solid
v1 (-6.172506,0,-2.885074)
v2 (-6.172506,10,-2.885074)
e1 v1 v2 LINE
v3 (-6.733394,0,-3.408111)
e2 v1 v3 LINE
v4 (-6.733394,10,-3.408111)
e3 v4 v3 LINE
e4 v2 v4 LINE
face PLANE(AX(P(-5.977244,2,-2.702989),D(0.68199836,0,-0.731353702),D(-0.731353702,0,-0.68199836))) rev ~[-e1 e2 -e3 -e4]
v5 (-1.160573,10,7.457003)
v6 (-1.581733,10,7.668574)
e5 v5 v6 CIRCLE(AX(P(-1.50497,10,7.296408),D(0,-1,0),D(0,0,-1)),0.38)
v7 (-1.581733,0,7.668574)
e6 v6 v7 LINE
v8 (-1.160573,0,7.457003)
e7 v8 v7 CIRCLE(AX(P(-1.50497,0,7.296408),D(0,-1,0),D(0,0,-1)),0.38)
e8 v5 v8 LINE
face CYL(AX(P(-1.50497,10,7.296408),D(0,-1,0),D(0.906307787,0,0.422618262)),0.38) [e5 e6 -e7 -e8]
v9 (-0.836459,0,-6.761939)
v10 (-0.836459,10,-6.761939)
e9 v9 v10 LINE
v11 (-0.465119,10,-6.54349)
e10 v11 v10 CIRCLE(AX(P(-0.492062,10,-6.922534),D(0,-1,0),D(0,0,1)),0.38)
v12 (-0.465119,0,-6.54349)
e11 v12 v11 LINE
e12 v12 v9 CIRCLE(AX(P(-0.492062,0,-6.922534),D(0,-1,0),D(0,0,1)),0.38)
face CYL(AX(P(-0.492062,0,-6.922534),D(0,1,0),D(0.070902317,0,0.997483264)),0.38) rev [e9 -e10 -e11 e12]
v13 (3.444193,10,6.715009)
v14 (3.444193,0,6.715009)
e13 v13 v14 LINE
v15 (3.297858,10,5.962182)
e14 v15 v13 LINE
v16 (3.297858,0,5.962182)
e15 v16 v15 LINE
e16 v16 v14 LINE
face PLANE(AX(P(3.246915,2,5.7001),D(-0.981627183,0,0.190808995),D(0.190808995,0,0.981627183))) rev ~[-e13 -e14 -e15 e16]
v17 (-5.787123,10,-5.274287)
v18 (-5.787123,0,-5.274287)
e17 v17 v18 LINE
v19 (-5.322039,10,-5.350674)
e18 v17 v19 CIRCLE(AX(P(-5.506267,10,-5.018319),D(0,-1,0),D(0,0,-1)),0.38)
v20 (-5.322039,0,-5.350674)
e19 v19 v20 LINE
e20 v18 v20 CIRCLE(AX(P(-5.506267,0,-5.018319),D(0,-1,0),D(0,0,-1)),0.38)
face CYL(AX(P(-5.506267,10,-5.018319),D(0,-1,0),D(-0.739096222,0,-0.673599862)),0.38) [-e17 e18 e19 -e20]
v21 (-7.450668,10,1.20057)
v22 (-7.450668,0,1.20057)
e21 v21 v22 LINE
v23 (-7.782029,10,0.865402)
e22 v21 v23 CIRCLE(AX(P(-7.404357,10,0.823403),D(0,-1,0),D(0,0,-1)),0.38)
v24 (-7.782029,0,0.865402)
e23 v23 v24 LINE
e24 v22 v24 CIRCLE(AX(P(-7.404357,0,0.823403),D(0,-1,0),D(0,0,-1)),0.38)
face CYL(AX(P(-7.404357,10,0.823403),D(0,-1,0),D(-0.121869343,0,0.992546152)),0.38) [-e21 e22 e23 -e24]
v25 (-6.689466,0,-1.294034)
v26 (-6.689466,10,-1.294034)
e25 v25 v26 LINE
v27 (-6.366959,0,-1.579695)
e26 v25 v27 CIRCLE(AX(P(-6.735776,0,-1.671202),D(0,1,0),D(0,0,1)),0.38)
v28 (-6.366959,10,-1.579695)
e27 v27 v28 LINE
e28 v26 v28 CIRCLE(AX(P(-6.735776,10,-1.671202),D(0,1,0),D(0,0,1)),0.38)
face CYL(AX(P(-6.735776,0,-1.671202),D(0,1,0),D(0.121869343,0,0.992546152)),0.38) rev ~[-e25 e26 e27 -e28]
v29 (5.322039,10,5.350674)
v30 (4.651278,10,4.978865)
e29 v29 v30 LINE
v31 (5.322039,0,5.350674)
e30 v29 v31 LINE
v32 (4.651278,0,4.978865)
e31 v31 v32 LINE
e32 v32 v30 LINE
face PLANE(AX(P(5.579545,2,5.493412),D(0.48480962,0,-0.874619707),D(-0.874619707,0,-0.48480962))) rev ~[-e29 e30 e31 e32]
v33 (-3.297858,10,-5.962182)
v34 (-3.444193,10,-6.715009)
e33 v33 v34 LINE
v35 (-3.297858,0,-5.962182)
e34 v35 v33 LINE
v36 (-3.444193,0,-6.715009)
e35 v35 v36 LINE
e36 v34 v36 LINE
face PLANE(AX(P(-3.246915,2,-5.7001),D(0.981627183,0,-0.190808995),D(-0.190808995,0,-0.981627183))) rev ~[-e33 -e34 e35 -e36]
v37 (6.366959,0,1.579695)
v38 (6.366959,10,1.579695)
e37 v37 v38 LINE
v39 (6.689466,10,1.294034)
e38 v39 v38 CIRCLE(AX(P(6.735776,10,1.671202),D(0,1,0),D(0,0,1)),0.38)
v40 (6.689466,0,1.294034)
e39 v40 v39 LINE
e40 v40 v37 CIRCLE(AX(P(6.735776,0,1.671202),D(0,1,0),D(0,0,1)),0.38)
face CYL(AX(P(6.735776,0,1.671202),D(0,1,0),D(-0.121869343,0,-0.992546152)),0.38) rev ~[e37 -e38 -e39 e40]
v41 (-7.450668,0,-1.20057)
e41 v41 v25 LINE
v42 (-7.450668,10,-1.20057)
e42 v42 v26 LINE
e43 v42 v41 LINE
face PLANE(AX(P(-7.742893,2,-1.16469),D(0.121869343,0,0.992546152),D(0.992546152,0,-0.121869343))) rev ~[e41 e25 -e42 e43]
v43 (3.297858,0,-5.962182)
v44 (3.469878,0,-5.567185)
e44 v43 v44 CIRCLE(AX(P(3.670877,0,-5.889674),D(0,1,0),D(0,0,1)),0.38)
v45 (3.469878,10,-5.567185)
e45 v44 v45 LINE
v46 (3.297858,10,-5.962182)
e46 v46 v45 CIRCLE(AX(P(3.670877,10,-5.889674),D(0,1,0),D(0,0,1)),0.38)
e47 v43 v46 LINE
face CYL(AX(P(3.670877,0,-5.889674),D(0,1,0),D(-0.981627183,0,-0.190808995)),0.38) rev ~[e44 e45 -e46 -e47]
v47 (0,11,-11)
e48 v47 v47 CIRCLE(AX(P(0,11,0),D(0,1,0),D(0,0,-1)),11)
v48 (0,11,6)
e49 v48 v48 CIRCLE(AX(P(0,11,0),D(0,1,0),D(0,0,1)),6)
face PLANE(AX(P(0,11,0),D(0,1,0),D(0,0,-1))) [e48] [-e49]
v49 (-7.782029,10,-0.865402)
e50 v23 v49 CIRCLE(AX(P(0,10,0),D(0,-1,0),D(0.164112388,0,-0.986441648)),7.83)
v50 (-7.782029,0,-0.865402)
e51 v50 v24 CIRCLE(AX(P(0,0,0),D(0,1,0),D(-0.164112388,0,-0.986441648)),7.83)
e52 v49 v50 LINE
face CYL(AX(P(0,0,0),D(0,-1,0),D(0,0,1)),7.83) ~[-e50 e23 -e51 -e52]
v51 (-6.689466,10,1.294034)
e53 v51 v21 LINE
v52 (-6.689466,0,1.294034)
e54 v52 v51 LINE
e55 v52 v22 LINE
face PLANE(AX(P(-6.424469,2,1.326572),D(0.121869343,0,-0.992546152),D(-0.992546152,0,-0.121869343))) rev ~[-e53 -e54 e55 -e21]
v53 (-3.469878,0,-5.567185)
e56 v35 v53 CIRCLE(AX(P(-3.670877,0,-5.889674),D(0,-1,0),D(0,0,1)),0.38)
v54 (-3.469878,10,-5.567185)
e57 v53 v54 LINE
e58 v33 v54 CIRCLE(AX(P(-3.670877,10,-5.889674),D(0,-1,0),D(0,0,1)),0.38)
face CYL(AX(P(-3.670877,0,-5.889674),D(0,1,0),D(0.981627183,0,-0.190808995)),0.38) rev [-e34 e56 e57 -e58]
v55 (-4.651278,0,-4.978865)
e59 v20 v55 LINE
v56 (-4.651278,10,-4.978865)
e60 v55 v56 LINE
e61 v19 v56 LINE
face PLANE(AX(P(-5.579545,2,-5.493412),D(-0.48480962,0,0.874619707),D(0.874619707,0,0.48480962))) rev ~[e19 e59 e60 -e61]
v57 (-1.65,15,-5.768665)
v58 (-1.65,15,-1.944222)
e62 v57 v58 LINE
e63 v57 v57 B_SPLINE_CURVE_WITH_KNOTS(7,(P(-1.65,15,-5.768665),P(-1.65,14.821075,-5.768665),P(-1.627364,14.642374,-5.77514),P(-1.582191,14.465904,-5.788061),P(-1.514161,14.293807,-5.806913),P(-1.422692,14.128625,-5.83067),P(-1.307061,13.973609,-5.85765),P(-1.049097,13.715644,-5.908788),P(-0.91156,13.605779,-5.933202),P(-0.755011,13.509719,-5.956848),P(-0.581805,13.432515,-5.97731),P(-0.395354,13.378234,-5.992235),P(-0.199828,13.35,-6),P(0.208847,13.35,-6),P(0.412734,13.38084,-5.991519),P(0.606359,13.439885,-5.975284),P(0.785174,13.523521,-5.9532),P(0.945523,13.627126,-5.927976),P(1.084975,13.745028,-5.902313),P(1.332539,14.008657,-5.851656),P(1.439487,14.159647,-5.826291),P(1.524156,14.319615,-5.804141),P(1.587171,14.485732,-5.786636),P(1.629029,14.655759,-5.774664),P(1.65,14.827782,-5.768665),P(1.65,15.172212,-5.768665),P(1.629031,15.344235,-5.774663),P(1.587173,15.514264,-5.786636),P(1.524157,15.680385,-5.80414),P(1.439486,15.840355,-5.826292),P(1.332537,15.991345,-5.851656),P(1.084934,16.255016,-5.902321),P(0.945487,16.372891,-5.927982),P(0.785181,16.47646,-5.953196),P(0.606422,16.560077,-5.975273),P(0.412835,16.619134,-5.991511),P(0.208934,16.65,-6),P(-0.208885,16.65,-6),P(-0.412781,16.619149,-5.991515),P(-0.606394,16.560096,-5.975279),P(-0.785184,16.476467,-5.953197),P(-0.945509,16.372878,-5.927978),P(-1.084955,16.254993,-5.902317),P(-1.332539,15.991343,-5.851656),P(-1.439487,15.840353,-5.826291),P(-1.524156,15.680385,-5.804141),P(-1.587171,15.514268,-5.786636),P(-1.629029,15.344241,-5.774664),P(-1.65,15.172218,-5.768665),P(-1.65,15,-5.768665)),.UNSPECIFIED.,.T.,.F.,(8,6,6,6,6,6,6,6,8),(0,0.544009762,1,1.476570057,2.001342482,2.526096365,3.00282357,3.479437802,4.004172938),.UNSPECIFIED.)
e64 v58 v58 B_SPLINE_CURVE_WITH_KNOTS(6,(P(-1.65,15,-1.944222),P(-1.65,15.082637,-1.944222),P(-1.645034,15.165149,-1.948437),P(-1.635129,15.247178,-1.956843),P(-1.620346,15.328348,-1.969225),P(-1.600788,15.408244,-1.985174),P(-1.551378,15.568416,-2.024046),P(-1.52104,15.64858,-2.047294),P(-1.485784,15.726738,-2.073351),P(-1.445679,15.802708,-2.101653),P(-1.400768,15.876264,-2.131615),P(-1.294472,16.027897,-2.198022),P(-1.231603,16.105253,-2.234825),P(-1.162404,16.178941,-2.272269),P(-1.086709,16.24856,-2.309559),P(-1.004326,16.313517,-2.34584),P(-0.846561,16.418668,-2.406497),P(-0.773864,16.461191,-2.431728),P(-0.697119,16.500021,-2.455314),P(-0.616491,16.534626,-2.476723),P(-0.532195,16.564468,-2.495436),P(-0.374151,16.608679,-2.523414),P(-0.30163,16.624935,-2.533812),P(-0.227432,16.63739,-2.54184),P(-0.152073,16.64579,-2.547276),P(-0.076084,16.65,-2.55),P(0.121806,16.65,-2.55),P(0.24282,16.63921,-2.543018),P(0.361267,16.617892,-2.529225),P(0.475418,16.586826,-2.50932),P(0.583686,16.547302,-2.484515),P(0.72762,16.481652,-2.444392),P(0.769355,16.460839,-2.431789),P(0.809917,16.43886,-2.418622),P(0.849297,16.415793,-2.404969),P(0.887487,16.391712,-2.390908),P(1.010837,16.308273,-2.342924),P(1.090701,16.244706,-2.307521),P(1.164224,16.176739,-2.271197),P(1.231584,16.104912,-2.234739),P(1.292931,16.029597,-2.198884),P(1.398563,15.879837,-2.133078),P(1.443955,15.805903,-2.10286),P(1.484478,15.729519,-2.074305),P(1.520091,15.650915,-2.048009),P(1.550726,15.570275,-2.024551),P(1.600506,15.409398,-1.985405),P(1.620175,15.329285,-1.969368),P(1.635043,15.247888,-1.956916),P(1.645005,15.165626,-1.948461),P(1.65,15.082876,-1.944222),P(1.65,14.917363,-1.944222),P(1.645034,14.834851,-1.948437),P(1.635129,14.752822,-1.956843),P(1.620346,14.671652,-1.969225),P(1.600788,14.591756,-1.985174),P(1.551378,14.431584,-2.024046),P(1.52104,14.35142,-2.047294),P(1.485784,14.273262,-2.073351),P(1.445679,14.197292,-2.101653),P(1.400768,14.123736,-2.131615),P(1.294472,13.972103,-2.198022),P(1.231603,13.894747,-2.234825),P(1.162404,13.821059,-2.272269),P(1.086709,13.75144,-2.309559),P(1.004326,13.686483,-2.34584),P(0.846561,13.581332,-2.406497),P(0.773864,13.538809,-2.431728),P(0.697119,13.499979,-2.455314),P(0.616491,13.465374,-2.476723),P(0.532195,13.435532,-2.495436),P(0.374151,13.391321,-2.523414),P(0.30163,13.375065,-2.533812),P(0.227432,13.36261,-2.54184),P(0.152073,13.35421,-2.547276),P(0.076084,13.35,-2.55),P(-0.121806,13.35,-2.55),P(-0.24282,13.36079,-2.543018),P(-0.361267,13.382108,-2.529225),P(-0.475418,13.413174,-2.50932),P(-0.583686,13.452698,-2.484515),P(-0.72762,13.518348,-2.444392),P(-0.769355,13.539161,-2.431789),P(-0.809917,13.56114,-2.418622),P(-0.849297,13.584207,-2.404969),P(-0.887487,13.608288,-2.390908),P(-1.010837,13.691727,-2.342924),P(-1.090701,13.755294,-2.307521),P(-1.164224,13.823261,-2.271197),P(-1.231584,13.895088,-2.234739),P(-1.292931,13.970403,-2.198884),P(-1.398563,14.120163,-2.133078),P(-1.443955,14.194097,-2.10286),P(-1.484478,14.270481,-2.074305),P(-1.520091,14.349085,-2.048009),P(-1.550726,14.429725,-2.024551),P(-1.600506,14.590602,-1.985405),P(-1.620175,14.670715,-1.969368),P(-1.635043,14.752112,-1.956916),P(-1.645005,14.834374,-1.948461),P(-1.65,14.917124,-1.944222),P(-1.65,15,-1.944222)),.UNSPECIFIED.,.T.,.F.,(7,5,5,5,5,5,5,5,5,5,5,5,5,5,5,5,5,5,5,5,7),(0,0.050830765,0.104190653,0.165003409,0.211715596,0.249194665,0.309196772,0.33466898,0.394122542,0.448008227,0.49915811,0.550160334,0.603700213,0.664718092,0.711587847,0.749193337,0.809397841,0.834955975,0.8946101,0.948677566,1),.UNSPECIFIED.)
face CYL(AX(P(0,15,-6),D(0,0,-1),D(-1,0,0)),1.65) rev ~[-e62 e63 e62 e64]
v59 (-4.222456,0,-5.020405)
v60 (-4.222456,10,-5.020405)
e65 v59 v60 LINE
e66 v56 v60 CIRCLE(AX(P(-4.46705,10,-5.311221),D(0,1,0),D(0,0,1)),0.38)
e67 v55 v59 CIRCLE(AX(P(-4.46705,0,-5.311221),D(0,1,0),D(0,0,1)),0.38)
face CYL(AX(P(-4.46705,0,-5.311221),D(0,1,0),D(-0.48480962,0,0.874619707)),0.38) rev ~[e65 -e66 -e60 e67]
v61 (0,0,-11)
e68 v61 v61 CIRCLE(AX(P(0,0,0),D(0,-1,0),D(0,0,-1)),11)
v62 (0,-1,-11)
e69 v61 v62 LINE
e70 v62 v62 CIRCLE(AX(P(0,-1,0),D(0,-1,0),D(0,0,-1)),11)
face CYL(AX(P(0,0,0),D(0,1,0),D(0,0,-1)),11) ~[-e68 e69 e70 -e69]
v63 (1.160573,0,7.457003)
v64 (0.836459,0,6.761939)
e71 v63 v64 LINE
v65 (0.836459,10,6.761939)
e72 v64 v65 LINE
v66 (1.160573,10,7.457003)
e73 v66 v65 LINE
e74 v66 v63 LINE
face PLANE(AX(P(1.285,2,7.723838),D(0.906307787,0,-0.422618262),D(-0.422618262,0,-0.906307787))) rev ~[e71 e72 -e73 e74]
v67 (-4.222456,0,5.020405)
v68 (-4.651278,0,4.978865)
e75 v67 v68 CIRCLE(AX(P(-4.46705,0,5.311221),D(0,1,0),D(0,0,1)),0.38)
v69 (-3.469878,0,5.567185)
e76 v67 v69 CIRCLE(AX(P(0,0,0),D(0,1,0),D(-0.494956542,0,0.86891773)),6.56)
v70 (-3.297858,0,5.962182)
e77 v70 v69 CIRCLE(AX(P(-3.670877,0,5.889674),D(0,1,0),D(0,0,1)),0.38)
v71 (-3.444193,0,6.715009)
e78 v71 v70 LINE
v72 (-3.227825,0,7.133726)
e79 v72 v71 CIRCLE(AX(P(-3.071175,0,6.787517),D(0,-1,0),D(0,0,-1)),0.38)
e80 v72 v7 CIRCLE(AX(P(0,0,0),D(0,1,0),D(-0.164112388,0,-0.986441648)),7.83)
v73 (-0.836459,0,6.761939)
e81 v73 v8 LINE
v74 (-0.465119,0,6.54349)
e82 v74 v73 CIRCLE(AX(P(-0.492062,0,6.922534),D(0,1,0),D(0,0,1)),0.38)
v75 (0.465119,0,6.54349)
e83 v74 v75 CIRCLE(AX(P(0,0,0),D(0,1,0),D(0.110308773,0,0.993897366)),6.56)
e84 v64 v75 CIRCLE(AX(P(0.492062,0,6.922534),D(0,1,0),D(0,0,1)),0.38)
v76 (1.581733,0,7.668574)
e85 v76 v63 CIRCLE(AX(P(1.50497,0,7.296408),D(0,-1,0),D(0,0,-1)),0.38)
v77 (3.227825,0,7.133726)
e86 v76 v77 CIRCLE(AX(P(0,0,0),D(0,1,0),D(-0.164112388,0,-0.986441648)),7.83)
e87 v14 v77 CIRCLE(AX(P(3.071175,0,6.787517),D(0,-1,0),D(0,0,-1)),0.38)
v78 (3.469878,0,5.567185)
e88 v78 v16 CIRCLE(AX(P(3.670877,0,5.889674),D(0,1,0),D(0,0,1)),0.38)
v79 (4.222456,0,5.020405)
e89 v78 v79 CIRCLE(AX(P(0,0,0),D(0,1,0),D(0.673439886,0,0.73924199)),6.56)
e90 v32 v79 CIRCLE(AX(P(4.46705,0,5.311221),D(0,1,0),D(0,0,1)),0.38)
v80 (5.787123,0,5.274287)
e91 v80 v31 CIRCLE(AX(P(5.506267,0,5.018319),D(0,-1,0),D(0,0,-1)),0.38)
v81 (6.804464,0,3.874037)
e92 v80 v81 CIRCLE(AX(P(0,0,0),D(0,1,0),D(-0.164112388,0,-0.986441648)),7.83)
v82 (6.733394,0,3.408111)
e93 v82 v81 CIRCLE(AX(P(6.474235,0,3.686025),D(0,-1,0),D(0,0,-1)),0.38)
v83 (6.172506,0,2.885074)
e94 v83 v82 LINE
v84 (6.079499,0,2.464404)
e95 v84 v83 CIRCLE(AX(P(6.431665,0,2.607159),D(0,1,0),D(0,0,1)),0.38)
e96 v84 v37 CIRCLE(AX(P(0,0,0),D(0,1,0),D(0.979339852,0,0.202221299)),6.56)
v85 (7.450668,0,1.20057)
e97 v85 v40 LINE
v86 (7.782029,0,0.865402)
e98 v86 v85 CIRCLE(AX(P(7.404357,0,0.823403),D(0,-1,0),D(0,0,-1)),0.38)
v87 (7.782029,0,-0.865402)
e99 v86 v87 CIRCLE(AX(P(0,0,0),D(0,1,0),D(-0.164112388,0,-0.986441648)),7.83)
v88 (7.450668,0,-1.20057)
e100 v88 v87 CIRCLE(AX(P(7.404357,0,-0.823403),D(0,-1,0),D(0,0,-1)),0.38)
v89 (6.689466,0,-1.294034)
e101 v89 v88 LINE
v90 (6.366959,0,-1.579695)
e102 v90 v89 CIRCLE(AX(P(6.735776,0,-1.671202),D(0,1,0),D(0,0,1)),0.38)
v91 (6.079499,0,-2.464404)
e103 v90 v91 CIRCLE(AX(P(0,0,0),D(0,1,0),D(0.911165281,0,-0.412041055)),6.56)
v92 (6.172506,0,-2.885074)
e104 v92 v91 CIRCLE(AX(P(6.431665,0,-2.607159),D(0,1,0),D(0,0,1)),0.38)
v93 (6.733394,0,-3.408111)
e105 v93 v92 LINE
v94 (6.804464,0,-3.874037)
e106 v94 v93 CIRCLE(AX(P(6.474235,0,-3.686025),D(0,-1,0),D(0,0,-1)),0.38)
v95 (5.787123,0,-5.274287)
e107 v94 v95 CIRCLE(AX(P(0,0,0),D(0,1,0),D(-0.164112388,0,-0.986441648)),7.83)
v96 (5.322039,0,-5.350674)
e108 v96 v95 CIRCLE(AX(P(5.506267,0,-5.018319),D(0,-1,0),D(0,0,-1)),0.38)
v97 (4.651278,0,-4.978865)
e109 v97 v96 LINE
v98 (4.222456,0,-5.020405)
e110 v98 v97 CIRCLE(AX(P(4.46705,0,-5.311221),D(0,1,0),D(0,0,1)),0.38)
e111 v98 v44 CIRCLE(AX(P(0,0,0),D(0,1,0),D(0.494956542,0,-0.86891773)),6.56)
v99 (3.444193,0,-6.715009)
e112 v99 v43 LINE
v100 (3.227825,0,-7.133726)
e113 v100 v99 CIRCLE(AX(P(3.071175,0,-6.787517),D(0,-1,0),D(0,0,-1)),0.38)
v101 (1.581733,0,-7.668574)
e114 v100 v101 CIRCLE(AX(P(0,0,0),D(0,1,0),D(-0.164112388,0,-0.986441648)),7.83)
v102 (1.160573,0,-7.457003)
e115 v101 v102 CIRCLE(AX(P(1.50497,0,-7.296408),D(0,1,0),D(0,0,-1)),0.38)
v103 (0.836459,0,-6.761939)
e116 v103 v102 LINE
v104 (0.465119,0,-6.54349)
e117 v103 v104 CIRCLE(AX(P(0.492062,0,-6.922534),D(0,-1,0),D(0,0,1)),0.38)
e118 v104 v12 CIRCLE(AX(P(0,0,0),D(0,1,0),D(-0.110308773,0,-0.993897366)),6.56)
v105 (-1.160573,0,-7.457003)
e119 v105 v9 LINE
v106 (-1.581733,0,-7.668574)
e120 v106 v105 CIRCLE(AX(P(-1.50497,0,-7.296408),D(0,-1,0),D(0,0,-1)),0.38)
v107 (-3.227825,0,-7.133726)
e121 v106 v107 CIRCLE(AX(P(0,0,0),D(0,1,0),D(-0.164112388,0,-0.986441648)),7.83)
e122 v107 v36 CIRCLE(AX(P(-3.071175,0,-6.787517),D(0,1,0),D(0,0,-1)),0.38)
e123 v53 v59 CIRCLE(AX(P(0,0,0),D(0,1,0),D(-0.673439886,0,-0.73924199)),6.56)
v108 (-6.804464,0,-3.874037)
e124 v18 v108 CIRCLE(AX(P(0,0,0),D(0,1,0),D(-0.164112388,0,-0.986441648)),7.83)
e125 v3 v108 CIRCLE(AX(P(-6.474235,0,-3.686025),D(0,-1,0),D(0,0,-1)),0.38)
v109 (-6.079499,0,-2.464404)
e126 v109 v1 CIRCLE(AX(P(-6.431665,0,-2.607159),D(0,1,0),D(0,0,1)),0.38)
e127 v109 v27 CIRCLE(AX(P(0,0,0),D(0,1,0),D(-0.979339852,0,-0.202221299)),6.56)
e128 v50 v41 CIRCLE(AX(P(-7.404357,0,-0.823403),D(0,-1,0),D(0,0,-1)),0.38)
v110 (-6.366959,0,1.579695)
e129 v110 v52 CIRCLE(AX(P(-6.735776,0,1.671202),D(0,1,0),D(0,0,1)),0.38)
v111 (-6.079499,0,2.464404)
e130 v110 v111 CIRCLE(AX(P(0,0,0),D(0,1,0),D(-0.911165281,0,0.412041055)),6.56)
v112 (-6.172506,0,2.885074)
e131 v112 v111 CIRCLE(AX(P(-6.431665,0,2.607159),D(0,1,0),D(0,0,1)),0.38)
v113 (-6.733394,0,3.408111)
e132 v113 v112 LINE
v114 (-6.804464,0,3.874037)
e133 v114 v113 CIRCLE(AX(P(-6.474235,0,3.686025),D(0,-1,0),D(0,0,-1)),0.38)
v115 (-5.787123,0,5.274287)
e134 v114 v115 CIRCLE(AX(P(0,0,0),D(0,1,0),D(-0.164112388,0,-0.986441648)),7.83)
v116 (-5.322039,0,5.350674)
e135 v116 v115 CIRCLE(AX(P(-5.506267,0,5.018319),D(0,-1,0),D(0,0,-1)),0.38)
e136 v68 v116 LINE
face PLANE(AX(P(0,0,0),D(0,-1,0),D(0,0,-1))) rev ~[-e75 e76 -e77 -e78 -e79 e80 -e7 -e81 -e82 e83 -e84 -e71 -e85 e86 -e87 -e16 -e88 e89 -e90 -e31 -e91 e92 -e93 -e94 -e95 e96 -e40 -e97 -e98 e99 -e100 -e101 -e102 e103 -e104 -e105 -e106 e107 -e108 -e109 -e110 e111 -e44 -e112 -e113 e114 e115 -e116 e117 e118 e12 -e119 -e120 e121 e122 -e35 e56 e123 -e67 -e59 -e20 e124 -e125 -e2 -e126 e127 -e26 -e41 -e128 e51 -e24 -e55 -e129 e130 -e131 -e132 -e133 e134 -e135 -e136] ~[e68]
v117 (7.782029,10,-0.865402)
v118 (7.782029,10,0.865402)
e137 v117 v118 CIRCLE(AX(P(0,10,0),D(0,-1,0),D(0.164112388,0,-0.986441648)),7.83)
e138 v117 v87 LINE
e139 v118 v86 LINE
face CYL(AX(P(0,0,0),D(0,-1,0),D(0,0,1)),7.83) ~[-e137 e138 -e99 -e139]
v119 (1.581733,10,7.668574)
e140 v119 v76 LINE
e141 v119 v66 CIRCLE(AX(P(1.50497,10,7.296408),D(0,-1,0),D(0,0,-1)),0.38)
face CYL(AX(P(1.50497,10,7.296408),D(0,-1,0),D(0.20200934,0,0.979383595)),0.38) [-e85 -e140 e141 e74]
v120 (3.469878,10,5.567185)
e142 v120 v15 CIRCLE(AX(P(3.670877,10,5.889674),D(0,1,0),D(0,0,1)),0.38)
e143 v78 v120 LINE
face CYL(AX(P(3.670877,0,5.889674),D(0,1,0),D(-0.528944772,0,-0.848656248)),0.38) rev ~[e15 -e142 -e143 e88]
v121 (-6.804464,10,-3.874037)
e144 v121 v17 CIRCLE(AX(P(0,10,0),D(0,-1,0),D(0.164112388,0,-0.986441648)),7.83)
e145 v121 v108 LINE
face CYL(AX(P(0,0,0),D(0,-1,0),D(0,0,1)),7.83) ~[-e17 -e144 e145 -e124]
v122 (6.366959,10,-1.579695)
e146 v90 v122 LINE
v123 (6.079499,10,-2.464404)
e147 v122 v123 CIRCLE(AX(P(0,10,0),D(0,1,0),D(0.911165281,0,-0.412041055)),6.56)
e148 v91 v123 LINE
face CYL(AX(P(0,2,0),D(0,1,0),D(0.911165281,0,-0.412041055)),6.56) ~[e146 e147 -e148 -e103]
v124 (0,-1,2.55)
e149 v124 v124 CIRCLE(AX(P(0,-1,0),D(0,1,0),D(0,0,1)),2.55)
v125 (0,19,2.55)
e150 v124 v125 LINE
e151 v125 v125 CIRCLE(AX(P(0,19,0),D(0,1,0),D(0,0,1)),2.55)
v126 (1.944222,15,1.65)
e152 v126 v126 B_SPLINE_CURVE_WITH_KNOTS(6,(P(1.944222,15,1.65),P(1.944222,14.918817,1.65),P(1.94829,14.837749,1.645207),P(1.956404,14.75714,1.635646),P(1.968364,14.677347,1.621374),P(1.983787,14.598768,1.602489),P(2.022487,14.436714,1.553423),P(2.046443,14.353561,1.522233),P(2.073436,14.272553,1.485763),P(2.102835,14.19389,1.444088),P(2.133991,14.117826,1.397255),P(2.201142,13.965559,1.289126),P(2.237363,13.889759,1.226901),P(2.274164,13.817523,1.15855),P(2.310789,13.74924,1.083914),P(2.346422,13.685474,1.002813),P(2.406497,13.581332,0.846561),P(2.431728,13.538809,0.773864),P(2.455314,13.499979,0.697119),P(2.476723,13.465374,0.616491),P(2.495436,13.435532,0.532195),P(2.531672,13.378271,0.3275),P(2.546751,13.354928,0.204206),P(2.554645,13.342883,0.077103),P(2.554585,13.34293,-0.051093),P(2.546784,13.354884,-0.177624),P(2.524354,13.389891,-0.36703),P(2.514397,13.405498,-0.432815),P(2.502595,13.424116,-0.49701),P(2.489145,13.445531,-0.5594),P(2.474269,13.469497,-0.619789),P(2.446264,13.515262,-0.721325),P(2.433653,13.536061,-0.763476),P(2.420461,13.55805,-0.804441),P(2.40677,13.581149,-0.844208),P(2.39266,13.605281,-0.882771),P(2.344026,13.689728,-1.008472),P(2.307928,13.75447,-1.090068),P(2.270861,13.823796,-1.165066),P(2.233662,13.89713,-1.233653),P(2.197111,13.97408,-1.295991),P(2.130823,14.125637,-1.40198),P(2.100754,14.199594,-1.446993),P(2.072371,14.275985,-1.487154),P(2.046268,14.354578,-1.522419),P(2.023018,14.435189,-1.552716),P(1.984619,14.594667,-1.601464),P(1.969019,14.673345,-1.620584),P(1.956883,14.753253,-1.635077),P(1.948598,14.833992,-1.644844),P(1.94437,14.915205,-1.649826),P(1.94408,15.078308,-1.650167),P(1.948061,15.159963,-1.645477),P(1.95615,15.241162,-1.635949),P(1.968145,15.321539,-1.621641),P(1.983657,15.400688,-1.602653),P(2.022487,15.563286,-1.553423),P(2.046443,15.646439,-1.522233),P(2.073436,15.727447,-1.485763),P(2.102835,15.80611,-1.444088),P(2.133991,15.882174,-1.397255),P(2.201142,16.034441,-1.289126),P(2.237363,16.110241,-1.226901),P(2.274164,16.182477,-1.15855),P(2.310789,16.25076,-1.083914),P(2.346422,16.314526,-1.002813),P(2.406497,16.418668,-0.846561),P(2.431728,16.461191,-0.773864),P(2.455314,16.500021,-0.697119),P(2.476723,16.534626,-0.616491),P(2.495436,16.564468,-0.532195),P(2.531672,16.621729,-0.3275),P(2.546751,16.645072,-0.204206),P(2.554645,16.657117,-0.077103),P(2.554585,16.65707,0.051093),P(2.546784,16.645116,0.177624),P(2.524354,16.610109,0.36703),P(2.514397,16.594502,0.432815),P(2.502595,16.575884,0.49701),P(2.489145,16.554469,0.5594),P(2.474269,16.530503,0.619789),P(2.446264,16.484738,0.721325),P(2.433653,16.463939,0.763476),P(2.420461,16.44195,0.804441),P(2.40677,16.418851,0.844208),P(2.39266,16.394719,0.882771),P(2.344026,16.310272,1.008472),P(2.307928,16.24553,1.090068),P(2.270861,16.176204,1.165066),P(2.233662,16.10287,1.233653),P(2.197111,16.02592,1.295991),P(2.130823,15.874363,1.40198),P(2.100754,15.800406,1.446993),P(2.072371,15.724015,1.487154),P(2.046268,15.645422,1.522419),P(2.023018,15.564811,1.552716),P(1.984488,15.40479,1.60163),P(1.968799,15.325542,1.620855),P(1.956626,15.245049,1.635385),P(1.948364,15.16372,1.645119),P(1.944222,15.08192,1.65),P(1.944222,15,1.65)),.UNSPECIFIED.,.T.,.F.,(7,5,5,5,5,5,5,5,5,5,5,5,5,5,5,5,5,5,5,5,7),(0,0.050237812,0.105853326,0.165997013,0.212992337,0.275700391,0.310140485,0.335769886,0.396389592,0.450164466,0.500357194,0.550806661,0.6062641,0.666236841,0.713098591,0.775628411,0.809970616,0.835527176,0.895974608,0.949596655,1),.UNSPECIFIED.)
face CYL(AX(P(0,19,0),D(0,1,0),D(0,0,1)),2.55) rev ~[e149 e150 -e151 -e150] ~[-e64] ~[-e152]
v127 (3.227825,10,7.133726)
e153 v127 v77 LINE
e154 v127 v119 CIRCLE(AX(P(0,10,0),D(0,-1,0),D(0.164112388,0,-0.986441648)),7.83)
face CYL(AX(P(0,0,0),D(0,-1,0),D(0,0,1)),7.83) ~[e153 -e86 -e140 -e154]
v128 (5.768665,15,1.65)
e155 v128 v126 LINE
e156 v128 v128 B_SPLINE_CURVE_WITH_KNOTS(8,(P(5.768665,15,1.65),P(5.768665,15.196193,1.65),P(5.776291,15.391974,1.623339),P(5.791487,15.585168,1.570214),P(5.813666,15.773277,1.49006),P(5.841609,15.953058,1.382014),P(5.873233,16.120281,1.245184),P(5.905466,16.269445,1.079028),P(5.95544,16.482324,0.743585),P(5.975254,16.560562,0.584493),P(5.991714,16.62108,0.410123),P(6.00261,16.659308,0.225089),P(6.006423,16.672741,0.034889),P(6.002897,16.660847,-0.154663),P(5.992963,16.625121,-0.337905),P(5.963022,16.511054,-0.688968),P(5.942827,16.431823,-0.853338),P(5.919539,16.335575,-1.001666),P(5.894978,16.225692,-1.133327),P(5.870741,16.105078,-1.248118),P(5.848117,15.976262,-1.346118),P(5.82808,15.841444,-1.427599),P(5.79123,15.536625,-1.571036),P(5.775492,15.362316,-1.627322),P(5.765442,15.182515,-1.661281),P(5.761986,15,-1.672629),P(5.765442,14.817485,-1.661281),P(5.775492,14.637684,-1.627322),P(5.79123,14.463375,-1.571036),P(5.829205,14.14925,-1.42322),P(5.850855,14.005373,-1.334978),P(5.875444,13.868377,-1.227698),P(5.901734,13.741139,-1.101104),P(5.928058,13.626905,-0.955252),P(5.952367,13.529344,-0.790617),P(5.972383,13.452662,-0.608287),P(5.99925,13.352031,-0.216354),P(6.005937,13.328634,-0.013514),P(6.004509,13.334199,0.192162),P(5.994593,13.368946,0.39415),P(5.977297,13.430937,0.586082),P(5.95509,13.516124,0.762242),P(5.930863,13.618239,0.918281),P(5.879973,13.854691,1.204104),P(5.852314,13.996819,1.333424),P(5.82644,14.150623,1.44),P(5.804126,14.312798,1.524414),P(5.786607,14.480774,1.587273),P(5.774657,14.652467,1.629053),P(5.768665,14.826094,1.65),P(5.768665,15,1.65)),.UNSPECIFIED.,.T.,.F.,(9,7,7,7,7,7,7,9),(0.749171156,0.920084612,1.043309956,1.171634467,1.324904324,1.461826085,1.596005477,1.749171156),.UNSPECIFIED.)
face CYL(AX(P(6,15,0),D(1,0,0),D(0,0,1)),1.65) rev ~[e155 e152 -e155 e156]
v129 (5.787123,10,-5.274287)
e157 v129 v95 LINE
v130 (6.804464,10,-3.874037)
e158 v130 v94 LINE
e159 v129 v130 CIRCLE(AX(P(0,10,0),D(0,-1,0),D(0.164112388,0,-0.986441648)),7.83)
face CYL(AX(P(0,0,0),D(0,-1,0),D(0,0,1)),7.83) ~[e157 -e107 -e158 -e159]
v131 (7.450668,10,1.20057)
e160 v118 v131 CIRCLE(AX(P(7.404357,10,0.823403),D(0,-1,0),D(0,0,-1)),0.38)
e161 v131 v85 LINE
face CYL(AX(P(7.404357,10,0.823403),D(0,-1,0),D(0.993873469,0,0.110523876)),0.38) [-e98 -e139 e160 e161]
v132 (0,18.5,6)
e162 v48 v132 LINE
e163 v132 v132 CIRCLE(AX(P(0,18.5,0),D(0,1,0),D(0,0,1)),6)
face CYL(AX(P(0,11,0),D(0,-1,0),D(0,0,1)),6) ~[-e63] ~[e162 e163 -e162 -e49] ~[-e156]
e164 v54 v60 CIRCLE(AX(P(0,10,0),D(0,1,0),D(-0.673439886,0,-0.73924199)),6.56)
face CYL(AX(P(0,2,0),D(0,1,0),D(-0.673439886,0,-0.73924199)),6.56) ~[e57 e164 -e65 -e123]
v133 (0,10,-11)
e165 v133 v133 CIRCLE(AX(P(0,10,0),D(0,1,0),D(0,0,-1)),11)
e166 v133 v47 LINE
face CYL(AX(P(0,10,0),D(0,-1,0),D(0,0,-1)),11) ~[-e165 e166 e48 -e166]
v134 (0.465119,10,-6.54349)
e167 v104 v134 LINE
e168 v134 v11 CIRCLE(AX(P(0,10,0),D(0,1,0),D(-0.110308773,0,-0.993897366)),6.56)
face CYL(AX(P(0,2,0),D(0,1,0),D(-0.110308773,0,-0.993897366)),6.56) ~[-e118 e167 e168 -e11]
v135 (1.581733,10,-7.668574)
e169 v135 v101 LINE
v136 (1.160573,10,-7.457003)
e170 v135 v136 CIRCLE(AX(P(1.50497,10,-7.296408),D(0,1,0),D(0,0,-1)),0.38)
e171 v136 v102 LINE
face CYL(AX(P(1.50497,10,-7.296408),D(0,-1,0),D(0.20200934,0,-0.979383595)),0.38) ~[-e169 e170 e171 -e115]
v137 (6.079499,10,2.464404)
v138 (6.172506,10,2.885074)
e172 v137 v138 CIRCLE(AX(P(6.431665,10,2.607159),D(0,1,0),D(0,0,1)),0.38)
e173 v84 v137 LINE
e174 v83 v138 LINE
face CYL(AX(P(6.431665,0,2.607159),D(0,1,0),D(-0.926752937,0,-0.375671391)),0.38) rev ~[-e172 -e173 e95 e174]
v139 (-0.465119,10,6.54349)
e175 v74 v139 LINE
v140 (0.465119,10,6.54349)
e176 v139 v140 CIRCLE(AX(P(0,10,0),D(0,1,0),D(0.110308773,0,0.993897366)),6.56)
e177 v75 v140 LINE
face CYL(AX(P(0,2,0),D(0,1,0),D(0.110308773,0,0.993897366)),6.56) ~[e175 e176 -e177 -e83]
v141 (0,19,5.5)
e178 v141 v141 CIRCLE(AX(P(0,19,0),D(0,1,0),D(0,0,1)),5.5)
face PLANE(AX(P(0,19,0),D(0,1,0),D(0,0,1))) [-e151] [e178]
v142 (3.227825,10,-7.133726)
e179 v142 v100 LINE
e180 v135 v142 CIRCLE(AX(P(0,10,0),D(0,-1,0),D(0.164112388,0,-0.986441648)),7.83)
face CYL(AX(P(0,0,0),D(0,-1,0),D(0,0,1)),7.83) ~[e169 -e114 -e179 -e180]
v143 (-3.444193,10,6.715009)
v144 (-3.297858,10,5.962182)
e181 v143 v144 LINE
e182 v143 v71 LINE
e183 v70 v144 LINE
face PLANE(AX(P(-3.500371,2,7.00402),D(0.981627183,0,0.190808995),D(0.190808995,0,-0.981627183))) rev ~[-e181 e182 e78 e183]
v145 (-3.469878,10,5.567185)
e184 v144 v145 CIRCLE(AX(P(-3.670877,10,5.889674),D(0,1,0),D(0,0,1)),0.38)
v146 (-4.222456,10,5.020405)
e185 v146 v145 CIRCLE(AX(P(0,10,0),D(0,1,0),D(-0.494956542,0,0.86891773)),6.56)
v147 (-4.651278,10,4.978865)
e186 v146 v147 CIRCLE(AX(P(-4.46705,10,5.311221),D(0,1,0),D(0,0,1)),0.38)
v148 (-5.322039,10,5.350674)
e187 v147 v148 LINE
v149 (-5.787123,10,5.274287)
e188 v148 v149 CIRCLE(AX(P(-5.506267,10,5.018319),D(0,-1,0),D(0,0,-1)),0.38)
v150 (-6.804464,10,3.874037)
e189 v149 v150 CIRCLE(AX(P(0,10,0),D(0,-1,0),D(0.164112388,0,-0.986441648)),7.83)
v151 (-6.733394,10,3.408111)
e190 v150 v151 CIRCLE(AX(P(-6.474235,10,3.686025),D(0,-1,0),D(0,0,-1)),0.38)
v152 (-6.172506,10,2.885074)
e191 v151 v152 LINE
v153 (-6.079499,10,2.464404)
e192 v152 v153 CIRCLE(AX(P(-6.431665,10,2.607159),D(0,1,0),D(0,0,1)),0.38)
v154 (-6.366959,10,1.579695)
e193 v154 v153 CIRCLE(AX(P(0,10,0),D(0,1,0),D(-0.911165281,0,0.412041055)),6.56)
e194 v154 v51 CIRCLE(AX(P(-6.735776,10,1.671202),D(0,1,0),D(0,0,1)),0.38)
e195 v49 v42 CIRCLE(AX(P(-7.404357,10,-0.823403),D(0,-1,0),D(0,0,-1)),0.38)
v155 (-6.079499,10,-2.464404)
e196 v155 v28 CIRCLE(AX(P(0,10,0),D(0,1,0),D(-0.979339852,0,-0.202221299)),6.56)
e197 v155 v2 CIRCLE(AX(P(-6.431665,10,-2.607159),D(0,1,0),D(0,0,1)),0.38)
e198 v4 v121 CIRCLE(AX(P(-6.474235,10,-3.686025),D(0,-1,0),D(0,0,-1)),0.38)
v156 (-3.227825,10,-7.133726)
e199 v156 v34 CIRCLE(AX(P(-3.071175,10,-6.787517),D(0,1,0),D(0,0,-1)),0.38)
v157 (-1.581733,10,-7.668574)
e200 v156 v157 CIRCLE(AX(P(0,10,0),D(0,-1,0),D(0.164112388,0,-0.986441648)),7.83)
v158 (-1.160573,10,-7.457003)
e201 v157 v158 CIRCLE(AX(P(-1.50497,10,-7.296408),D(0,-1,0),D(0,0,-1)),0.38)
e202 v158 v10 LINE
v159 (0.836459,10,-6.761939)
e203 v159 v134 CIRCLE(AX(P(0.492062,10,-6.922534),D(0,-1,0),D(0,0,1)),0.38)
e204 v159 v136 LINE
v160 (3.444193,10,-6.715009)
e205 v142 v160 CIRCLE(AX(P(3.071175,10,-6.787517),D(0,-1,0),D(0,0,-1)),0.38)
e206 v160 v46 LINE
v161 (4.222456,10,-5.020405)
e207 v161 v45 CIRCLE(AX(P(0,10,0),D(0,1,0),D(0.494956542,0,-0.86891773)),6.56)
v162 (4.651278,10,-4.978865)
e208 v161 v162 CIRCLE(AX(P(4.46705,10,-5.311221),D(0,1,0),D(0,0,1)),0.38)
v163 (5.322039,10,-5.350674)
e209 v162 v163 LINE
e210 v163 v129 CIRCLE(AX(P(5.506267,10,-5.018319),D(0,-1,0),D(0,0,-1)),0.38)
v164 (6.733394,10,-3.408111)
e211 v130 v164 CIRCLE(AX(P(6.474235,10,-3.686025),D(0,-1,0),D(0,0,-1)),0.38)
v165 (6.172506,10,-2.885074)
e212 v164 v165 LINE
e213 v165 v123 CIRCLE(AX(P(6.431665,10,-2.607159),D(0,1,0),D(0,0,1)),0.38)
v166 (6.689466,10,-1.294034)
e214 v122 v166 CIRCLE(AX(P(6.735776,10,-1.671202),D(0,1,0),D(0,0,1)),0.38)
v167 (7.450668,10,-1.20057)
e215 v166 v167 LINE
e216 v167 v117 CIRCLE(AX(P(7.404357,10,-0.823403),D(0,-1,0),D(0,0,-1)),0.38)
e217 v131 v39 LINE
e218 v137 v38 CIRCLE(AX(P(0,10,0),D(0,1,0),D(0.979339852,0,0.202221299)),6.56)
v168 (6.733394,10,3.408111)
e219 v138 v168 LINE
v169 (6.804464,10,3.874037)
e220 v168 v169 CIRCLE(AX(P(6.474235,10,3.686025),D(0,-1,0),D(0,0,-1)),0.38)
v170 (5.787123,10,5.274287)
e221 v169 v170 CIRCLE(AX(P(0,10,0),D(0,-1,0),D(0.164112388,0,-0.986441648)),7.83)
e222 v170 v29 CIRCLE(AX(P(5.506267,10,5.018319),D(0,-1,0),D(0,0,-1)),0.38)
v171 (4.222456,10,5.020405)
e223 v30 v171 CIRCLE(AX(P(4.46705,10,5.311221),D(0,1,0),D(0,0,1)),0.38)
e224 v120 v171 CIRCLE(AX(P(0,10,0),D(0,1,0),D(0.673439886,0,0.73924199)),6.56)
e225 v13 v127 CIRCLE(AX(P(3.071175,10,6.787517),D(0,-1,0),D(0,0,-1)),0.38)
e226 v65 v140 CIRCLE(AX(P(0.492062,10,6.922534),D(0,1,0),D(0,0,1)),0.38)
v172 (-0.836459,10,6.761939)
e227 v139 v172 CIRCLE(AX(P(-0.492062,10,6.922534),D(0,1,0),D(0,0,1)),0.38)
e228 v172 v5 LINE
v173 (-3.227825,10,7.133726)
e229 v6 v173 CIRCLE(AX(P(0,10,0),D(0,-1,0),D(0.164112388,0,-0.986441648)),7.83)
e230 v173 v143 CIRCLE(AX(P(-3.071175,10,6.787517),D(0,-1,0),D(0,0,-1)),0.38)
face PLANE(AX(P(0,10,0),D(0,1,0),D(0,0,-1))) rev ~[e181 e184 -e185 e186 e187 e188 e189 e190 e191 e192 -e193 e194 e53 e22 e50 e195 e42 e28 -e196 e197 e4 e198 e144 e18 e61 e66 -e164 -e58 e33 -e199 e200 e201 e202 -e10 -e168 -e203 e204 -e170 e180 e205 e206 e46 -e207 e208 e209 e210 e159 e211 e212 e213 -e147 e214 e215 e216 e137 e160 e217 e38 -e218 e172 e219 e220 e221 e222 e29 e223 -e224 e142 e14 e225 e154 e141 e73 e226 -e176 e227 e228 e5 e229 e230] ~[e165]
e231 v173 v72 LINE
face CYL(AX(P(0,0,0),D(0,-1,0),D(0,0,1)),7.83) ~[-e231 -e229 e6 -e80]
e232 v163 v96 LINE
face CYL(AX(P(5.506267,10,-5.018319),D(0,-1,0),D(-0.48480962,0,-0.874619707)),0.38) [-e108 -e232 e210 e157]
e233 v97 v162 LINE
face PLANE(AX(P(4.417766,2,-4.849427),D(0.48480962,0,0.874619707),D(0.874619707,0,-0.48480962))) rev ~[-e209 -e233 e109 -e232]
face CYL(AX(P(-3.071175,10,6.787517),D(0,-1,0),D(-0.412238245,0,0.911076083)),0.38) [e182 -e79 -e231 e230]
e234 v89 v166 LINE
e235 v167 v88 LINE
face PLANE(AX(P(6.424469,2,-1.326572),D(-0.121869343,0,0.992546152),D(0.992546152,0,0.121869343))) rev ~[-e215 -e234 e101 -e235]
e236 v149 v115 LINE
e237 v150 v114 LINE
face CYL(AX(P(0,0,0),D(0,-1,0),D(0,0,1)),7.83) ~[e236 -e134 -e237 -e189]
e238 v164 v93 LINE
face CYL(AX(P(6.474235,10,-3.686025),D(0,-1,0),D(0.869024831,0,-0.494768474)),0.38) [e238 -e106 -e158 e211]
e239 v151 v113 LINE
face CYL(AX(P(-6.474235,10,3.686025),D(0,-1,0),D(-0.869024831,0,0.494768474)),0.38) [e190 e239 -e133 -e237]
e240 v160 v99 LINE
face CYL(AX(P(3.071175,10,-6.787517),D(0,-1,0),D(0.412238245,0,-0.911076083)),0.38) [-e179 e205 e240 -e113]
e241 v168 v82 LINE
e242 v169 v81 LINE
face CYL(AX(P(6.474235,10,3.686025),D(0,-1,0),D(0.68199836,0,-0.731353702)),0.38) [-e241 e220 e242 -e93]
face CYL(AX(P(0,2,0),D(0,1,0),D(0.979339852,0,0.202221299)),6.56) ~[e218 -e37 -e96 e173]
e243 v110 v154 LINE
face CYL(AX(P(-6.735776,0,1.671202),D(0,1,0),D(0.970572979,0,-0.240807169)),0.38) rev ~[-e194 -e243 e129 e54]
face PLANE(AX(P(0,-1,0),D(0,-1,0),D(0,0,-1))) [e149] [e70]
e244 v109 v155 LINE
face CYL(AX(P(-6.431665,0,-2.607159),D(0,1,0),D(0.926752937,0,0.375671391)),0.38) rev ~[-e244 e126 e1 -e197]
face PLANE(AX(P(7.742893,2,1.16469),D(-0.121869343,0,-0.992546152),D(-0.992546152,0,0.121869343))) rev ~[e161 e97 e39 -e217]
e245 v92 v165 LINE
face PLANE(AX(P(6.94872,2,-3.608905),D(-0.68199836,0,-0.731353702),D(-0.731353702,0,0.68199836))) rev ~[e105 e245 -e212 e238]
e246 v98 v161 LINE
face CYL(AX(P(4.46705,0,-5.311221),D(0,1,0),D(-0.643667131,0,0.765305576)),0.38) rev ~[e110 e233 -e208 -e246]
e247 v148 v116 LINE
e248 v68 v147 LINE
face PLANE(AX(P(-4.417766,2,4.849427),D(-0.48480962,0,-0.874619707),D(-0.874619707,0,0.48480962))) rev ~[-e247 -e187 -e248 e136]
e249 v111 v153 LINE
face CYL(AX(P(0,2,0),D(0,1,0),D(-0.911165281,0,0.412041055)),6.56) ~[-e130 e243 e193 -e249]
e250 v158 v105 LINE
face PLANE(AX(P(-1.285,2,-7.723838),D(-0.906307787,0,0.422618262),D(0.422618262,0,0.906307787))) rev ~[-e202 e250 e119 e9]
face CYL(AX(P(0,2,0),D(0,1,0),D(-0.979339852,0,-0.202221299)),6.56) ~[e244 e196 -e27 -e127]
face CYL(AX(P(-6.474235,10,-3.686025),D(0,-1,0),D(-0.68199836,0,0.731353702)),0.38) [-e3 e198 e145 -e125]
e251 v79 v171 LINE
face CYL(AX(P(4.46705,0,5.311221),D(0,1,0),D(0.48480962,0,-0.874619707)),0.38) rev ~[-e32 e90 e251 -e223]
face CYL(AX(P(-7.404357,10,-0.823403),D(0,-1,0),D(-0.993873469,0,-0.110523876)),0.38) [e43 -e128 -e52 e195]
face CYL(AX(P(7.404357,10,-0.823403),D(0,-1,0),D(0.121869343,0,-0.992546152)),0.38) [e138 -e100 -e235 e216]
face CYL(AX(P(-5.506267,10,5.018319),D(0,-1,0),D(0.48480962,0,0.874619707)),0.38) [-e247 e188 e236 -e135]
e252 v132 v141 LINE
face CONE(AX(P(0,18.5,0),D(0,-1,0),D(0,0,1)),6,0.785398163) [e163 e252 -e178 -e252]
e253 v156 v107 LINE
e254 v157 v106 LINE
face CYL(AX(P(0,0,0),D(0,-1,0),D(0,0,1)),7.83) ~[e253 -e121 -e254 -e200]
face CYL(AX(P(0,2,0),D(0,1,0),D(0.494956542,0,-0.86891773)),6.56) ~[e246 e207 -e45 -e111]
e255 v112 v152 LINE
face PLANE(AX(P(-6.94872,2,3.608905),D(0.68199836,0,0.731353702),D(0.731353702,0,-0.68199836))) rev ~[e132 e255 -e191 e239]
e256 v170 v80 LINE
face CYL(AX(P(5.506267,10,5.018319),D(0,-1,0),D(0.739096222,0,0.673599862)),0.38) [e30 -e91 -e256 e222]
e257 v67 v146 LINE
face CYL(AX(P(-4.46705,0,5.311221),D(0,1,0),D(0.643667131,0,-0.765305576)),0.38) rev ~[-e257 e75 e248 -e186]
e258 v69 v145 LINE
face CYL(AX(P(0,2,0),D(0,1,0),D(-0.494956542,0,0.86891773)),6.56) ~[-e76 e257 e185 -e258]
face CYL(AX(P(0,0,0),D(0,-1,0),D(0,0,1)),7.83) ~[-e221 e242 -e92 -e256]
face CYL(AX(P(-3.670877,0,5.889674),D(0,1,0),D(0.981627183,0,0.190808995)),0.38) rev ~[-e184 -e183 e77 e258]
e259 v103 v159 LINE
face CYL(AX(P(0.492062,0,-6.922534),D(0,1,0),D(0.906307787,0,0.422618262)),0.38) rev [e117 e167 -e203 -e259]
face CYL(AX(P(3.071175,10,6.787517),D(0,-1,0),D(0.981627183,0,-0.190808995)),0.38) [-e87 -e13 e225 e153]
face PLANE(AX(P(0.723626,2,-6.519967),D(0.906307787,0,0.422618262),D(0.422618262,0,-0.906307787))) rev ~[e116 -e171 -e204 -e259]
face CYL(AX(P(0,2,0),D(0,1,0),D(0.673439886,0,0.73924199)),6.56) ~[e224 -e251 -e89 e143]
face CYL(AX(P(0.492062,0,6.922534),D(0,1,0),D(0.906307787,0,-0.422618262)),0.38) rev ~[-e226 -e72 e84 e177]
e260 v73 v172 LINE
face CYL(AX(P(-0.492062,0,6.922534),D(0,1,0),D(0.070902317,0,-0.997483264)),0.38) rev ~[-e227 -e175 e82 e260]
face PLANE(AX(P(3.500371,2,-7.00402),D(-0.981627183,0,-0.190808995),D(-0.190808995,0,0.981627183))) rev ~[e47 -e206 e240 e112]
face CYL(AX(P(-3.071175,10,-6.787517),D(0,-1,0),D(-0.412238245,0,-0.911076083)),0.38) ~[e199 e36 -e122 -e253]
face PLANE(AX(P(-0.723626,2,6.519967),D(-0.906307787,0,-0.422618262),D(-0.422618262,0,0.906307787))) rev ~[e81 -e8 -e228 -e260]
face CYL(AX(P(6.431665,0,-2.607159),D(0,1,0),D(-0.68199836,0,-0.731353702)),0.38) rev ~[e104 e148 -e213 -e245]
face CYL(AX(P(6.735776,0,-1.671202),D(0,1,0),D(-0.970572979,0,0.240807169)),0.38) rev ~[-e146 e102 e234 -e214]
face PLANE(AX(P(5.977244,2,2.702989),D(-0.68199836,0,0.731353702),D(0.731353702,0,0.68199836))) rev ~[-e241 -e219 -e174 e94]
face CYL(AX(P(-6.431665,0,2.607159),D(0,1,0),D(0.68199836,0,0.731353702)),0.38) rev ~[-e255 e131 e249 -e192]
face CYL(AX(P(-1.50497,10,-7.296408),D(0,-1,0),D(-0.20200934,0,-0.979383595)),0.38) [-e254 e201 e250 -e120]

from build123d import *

# Parameters (mm, degrees)
SKETCH1_R                = 7.83
BOSS_EXTRUDE1_DEPTH      = 10
CUT_EXTRUDE1_DEPTH       = 14.660812567
FILLET1_R                = 0.38
CIRPATTERN1_COUNT        = 10
FILLET1_OF_CIRPATTERN1_R = 0.38
SKETCH3_R                = 2.55
CUT_EXTRUDE2_DEPTH       = 15.840354998
SKETCH4_R                = 11
BOSS_EXTRUDE2_DEPTH      = 1
SKETCH5_R                = 11
BOSS_EXTRUDE3_DEPTH      = 1
SKETCH6_R                = 6
BOSS_EXTRUDE4_DEPTH      = 8
SKETCH7_R                = 2.55
CUT_EXTRUDE3_DEPTH       = 26.337718919
CUT_EXTRUDE3_DEPTH_BACK  = 26.337718919
M4_TAPPED_HOLE1_REACH    = 27.807
M4_TAPPED_HOLE1_BORE_R   = 1.65
M4_TAPPED_HOLE2_REACH    = 27.807
M4_TAPPED_HOLE2_BORE_R   = 1.65
CHAMFER1_SIZE            = 0.5


with BuildPart() as part:
    # Sketch1 → Boss-Extrude1 (new body)
    with BuildSketch(Plane(origin=(0, 0, 0), x_dir=(1, 0, 0), z_dir=(0, 1, 0))):
        with Locations(Location((0, 0, 0), (0, 0, 270))):
            Circle(SKETCH1_R)
    extrude(amount=BOSS_EXTRUDE1_DEPTH)

    # Sketch2 → Cut-Extrude1 (cut, symmetric)
    with BuildSketch(Plane(origin=(0, 2, 0), x_dir=(1, 0, 0), z_dir=(0, 1, 0))):
        with BuildLine():
            Line((-1.285, 7.7238381), (-0.723625557, 6.519966722))
            ThreePointArc((-0.723625557, 6.519966722), (0, 6.56), (0.723625557, 6.519966722))
            Line((0.723625557, 6.519966722), (1.285, 7.7238381))
            ThreePointArc((1.285, 7.7238381), (0, 7.83), (-1.285, 7.7238381))
        make_face()
    cut_extrude1 = extrude(amount=CUT_EXTRUDE1_DEPTH, both=True, mode=Mode.SUBTRACT)

    # Fillet1
    fillet1_edges = [part.edges().sort_by_distance(p)[0] for p in [
        (1.285, 5, -7.7238381),
        (0.723625557, 5, -6.519966722),
        (-0.723625557, 5, -6.519966722),
        (-1.285, 5, -7.7238381),
    ]]
    fillet(fillet1_edges, radius=FILLET1_R)

    # CirPattern1: Cut-Extrude1 ×10 about axis
    cirpattern1_axis = Axis((0, 0, 0), (0, 1, 0))
    for i in range(1, CIRPATTERN1_COUNT):
        add(cut_extrude1.rotate(cirpattern1_axis, i * 360 / CIRPATTERN1_COUNT), mode=Mode.SUBTRACT)

    # Fillet1 of CirPattern1
    fillet1_of_cirpattern1_edges = [part.edges().sort_by_distance(p)[0] for p in [
        (-3.500371289, 5, -7.004020334),
        (-3.246914912, 5, -5.700100311),
        (-4.417765658, 5, -4.84942745),
        (-5.579544964, 5, -5.493412236),
        (-6.948719718, 5, -3.608904858),
        (-5.977244242, 5, -2.702989321),
        (-6.424469431, 5, -1.326571719),
        (-7.742893394, 5, -1.164689611),
        (-7.742893394, 5, 1.164689611),
        (-6.424469431, 5, 1.326571719),
        (-5.977244242, 5, 2.702989321),
        (-6.948719718, 5, 3.608904858),
        (-5.579544964, 5, 5.493412236),
        (-4.417765658, 5, 4.84942745),
        (-3.246914912, 5, 5.700100311),
        (-3.500371289, 5, 7.004020334),
        (-1.285, 5, 7.7238381),
        (-0.723625557, 5, 6.519966722),
        (0.723625557, 5, 6.519966722),
        (1.285, 5, 7.7238381),
        (3.500371289, 5, 7.004020334),
        (3.246914912, 5, 5.700100311),
        (4.417765658, 5, 4.84942745),
        (5.579544964, 5, 5.493412236),
        (6.948719718, 5, 3.608904858),
        (5.977244242, 5, 2.702989321),
        (6.424469431, 5, 1.326571719),
        (7.742893394, 5, 1.164689611),
        (7.742893394, 5, -1.164689611),
        (6.424469431, 5, -1.326571719),
        (5.977244242, 5, -2.702989321),
        (6.948719718, 5, -3.608904858),
        (5.579544964, 5, -5.493412236),
        (4.417765658, 5, -4.84942745),
        (3.246914912, 5, -5.700100311),
        (3.500371289, 5, -7.004020334),
    ]]
    fillet(fillet1_of_cirpattern1_edges, radius=FILLET1_OF_CIRPATTERN1_R)

    # Sketch3 → Cut-Extrude2 (cut, through all)
    with BuildSketch(Plane(origin=(0, 10, 0), x_dir=(1, 0, 0), z_dir=(0, 1, 0))):
        with Locations(Location((0, 0, 0), (0, 0, 270))):
            Circle(SKETCH3_R)
    extrude(amount=-CUT_EXTRUDE2_DEPTH, mode=Mode.SUBTRACT)

    # Sketch4 → Boss-Extrude2 (add)
    with BuildSketch(Plane.XZ):
        with Locations(Location((0, 0, 0), (0, 0, 270))):
            Circle(SKETCH4_R)
    extrude(amount=BOSS_EXTRUDE2_DEPTH)

    # Sketch5 → Boss-Extrude3 (add)
    with BuildSketch(Plane(origin=(0, 10, 0), x_dir=(1, 0, 0), z_dir=(0, 1, 0))):
        with Locations(Location((0, 0, 0), (0, 0, 90))):
            Circle(SKETCH5_R)
    extrude(amount=BOSS_EXTRUDE3_DEPTH)

    # Sketch6 → Boss-Extrude4 (add)
    with BuildSketch(Plane(origin=(0, 11, 0), x_dir=(1, 0, 0), z_dir=(0, 1, 0))):
        with Locations(Location((0, 0, 0), (0, 0, 270))):
            Circle(SKETCH6_R)
    extrude(amount=BOSS_EXTRUDE4_DEPTH)

    # Sketch7 → Cut-Extrude3 (cut, two sides)
    with BuildSketch(Plane(origin=(0, 19, 0), x_dir=(1, 0, 0), z_dir=(0, 1, 0))) as cut_extrude3_sk:
        with Locations(Location((0, 0, 0), (0, 0, 270))):
            Circle(SKETCH7_R)
    extrude(amount=CUT_EXTRUDE3_DEPTH, mode=Mode.SUBTRACT)
    extrude(cut_extrude3_sk.sketch, amount=-CUT_EXTRUDE3_DEPTH_BACK, mode=Mode.SUBTRACT)

    # M4 Tapped Hole1 bore (on position points) → M4 Tapped Hole1 (cut, up to next)
    with BuildSketch(Plane(origin=(0, 15, -6), x_dir=(-1, 0, 0), z_dir=(0, 0, -1)), mode=Mode.PRIVATE) as m4_tapped_hole1_sk1:
        Circle(M4_TAPPED_HOLE1_BORE_R)
    m4_tapped_hole1_tool1 = extrude(m4_tapped_hole1_sk1.sketch, amount=-M4_TAPPED_HOLE1_REACH, mode=Mode.PRIVATE) & part.part
    add(m4_tapped_hole1_tool1.solids().sort_by_distance((0, 15, -6))[0], mode=Mode.SUBTRACT)

    # M4 Tapped Hole2 bore (on position points) → M4 Tapped Hole2 (cut, up to next)
    with BuildSketch(Plane(origin=(6, 15, 0), x_dir=(0, 0, 1), z_dir=(1, 0, 0)), mode=Mode.PRIVATE) as m4_tapped_hole2_sk1:
        Circle(M4_TAPPED_HOLE2_BORE_R)
    m4_tapped_hole2_tool1 = extrude(m4_tapped_hole2_sk1.sketch, amount=-M4_TAPPED_HOLE2_REACH, mode=Mode.PRIVATE) & part.part
    add(m4_tapped_hole2_tool1.solids().sort_by_distance((6, 15, 0))[0], mode=Mode.SUBTRACT)

    # Chamfer1
    chamfer1_edges = [part.edges().sort_by_distance(p)[0] for p in [
        (0, 19, -6),
    ]]
    chamfer(chamfer1_edges, length=CHAMFER1_SIZE)


solid = part.part
